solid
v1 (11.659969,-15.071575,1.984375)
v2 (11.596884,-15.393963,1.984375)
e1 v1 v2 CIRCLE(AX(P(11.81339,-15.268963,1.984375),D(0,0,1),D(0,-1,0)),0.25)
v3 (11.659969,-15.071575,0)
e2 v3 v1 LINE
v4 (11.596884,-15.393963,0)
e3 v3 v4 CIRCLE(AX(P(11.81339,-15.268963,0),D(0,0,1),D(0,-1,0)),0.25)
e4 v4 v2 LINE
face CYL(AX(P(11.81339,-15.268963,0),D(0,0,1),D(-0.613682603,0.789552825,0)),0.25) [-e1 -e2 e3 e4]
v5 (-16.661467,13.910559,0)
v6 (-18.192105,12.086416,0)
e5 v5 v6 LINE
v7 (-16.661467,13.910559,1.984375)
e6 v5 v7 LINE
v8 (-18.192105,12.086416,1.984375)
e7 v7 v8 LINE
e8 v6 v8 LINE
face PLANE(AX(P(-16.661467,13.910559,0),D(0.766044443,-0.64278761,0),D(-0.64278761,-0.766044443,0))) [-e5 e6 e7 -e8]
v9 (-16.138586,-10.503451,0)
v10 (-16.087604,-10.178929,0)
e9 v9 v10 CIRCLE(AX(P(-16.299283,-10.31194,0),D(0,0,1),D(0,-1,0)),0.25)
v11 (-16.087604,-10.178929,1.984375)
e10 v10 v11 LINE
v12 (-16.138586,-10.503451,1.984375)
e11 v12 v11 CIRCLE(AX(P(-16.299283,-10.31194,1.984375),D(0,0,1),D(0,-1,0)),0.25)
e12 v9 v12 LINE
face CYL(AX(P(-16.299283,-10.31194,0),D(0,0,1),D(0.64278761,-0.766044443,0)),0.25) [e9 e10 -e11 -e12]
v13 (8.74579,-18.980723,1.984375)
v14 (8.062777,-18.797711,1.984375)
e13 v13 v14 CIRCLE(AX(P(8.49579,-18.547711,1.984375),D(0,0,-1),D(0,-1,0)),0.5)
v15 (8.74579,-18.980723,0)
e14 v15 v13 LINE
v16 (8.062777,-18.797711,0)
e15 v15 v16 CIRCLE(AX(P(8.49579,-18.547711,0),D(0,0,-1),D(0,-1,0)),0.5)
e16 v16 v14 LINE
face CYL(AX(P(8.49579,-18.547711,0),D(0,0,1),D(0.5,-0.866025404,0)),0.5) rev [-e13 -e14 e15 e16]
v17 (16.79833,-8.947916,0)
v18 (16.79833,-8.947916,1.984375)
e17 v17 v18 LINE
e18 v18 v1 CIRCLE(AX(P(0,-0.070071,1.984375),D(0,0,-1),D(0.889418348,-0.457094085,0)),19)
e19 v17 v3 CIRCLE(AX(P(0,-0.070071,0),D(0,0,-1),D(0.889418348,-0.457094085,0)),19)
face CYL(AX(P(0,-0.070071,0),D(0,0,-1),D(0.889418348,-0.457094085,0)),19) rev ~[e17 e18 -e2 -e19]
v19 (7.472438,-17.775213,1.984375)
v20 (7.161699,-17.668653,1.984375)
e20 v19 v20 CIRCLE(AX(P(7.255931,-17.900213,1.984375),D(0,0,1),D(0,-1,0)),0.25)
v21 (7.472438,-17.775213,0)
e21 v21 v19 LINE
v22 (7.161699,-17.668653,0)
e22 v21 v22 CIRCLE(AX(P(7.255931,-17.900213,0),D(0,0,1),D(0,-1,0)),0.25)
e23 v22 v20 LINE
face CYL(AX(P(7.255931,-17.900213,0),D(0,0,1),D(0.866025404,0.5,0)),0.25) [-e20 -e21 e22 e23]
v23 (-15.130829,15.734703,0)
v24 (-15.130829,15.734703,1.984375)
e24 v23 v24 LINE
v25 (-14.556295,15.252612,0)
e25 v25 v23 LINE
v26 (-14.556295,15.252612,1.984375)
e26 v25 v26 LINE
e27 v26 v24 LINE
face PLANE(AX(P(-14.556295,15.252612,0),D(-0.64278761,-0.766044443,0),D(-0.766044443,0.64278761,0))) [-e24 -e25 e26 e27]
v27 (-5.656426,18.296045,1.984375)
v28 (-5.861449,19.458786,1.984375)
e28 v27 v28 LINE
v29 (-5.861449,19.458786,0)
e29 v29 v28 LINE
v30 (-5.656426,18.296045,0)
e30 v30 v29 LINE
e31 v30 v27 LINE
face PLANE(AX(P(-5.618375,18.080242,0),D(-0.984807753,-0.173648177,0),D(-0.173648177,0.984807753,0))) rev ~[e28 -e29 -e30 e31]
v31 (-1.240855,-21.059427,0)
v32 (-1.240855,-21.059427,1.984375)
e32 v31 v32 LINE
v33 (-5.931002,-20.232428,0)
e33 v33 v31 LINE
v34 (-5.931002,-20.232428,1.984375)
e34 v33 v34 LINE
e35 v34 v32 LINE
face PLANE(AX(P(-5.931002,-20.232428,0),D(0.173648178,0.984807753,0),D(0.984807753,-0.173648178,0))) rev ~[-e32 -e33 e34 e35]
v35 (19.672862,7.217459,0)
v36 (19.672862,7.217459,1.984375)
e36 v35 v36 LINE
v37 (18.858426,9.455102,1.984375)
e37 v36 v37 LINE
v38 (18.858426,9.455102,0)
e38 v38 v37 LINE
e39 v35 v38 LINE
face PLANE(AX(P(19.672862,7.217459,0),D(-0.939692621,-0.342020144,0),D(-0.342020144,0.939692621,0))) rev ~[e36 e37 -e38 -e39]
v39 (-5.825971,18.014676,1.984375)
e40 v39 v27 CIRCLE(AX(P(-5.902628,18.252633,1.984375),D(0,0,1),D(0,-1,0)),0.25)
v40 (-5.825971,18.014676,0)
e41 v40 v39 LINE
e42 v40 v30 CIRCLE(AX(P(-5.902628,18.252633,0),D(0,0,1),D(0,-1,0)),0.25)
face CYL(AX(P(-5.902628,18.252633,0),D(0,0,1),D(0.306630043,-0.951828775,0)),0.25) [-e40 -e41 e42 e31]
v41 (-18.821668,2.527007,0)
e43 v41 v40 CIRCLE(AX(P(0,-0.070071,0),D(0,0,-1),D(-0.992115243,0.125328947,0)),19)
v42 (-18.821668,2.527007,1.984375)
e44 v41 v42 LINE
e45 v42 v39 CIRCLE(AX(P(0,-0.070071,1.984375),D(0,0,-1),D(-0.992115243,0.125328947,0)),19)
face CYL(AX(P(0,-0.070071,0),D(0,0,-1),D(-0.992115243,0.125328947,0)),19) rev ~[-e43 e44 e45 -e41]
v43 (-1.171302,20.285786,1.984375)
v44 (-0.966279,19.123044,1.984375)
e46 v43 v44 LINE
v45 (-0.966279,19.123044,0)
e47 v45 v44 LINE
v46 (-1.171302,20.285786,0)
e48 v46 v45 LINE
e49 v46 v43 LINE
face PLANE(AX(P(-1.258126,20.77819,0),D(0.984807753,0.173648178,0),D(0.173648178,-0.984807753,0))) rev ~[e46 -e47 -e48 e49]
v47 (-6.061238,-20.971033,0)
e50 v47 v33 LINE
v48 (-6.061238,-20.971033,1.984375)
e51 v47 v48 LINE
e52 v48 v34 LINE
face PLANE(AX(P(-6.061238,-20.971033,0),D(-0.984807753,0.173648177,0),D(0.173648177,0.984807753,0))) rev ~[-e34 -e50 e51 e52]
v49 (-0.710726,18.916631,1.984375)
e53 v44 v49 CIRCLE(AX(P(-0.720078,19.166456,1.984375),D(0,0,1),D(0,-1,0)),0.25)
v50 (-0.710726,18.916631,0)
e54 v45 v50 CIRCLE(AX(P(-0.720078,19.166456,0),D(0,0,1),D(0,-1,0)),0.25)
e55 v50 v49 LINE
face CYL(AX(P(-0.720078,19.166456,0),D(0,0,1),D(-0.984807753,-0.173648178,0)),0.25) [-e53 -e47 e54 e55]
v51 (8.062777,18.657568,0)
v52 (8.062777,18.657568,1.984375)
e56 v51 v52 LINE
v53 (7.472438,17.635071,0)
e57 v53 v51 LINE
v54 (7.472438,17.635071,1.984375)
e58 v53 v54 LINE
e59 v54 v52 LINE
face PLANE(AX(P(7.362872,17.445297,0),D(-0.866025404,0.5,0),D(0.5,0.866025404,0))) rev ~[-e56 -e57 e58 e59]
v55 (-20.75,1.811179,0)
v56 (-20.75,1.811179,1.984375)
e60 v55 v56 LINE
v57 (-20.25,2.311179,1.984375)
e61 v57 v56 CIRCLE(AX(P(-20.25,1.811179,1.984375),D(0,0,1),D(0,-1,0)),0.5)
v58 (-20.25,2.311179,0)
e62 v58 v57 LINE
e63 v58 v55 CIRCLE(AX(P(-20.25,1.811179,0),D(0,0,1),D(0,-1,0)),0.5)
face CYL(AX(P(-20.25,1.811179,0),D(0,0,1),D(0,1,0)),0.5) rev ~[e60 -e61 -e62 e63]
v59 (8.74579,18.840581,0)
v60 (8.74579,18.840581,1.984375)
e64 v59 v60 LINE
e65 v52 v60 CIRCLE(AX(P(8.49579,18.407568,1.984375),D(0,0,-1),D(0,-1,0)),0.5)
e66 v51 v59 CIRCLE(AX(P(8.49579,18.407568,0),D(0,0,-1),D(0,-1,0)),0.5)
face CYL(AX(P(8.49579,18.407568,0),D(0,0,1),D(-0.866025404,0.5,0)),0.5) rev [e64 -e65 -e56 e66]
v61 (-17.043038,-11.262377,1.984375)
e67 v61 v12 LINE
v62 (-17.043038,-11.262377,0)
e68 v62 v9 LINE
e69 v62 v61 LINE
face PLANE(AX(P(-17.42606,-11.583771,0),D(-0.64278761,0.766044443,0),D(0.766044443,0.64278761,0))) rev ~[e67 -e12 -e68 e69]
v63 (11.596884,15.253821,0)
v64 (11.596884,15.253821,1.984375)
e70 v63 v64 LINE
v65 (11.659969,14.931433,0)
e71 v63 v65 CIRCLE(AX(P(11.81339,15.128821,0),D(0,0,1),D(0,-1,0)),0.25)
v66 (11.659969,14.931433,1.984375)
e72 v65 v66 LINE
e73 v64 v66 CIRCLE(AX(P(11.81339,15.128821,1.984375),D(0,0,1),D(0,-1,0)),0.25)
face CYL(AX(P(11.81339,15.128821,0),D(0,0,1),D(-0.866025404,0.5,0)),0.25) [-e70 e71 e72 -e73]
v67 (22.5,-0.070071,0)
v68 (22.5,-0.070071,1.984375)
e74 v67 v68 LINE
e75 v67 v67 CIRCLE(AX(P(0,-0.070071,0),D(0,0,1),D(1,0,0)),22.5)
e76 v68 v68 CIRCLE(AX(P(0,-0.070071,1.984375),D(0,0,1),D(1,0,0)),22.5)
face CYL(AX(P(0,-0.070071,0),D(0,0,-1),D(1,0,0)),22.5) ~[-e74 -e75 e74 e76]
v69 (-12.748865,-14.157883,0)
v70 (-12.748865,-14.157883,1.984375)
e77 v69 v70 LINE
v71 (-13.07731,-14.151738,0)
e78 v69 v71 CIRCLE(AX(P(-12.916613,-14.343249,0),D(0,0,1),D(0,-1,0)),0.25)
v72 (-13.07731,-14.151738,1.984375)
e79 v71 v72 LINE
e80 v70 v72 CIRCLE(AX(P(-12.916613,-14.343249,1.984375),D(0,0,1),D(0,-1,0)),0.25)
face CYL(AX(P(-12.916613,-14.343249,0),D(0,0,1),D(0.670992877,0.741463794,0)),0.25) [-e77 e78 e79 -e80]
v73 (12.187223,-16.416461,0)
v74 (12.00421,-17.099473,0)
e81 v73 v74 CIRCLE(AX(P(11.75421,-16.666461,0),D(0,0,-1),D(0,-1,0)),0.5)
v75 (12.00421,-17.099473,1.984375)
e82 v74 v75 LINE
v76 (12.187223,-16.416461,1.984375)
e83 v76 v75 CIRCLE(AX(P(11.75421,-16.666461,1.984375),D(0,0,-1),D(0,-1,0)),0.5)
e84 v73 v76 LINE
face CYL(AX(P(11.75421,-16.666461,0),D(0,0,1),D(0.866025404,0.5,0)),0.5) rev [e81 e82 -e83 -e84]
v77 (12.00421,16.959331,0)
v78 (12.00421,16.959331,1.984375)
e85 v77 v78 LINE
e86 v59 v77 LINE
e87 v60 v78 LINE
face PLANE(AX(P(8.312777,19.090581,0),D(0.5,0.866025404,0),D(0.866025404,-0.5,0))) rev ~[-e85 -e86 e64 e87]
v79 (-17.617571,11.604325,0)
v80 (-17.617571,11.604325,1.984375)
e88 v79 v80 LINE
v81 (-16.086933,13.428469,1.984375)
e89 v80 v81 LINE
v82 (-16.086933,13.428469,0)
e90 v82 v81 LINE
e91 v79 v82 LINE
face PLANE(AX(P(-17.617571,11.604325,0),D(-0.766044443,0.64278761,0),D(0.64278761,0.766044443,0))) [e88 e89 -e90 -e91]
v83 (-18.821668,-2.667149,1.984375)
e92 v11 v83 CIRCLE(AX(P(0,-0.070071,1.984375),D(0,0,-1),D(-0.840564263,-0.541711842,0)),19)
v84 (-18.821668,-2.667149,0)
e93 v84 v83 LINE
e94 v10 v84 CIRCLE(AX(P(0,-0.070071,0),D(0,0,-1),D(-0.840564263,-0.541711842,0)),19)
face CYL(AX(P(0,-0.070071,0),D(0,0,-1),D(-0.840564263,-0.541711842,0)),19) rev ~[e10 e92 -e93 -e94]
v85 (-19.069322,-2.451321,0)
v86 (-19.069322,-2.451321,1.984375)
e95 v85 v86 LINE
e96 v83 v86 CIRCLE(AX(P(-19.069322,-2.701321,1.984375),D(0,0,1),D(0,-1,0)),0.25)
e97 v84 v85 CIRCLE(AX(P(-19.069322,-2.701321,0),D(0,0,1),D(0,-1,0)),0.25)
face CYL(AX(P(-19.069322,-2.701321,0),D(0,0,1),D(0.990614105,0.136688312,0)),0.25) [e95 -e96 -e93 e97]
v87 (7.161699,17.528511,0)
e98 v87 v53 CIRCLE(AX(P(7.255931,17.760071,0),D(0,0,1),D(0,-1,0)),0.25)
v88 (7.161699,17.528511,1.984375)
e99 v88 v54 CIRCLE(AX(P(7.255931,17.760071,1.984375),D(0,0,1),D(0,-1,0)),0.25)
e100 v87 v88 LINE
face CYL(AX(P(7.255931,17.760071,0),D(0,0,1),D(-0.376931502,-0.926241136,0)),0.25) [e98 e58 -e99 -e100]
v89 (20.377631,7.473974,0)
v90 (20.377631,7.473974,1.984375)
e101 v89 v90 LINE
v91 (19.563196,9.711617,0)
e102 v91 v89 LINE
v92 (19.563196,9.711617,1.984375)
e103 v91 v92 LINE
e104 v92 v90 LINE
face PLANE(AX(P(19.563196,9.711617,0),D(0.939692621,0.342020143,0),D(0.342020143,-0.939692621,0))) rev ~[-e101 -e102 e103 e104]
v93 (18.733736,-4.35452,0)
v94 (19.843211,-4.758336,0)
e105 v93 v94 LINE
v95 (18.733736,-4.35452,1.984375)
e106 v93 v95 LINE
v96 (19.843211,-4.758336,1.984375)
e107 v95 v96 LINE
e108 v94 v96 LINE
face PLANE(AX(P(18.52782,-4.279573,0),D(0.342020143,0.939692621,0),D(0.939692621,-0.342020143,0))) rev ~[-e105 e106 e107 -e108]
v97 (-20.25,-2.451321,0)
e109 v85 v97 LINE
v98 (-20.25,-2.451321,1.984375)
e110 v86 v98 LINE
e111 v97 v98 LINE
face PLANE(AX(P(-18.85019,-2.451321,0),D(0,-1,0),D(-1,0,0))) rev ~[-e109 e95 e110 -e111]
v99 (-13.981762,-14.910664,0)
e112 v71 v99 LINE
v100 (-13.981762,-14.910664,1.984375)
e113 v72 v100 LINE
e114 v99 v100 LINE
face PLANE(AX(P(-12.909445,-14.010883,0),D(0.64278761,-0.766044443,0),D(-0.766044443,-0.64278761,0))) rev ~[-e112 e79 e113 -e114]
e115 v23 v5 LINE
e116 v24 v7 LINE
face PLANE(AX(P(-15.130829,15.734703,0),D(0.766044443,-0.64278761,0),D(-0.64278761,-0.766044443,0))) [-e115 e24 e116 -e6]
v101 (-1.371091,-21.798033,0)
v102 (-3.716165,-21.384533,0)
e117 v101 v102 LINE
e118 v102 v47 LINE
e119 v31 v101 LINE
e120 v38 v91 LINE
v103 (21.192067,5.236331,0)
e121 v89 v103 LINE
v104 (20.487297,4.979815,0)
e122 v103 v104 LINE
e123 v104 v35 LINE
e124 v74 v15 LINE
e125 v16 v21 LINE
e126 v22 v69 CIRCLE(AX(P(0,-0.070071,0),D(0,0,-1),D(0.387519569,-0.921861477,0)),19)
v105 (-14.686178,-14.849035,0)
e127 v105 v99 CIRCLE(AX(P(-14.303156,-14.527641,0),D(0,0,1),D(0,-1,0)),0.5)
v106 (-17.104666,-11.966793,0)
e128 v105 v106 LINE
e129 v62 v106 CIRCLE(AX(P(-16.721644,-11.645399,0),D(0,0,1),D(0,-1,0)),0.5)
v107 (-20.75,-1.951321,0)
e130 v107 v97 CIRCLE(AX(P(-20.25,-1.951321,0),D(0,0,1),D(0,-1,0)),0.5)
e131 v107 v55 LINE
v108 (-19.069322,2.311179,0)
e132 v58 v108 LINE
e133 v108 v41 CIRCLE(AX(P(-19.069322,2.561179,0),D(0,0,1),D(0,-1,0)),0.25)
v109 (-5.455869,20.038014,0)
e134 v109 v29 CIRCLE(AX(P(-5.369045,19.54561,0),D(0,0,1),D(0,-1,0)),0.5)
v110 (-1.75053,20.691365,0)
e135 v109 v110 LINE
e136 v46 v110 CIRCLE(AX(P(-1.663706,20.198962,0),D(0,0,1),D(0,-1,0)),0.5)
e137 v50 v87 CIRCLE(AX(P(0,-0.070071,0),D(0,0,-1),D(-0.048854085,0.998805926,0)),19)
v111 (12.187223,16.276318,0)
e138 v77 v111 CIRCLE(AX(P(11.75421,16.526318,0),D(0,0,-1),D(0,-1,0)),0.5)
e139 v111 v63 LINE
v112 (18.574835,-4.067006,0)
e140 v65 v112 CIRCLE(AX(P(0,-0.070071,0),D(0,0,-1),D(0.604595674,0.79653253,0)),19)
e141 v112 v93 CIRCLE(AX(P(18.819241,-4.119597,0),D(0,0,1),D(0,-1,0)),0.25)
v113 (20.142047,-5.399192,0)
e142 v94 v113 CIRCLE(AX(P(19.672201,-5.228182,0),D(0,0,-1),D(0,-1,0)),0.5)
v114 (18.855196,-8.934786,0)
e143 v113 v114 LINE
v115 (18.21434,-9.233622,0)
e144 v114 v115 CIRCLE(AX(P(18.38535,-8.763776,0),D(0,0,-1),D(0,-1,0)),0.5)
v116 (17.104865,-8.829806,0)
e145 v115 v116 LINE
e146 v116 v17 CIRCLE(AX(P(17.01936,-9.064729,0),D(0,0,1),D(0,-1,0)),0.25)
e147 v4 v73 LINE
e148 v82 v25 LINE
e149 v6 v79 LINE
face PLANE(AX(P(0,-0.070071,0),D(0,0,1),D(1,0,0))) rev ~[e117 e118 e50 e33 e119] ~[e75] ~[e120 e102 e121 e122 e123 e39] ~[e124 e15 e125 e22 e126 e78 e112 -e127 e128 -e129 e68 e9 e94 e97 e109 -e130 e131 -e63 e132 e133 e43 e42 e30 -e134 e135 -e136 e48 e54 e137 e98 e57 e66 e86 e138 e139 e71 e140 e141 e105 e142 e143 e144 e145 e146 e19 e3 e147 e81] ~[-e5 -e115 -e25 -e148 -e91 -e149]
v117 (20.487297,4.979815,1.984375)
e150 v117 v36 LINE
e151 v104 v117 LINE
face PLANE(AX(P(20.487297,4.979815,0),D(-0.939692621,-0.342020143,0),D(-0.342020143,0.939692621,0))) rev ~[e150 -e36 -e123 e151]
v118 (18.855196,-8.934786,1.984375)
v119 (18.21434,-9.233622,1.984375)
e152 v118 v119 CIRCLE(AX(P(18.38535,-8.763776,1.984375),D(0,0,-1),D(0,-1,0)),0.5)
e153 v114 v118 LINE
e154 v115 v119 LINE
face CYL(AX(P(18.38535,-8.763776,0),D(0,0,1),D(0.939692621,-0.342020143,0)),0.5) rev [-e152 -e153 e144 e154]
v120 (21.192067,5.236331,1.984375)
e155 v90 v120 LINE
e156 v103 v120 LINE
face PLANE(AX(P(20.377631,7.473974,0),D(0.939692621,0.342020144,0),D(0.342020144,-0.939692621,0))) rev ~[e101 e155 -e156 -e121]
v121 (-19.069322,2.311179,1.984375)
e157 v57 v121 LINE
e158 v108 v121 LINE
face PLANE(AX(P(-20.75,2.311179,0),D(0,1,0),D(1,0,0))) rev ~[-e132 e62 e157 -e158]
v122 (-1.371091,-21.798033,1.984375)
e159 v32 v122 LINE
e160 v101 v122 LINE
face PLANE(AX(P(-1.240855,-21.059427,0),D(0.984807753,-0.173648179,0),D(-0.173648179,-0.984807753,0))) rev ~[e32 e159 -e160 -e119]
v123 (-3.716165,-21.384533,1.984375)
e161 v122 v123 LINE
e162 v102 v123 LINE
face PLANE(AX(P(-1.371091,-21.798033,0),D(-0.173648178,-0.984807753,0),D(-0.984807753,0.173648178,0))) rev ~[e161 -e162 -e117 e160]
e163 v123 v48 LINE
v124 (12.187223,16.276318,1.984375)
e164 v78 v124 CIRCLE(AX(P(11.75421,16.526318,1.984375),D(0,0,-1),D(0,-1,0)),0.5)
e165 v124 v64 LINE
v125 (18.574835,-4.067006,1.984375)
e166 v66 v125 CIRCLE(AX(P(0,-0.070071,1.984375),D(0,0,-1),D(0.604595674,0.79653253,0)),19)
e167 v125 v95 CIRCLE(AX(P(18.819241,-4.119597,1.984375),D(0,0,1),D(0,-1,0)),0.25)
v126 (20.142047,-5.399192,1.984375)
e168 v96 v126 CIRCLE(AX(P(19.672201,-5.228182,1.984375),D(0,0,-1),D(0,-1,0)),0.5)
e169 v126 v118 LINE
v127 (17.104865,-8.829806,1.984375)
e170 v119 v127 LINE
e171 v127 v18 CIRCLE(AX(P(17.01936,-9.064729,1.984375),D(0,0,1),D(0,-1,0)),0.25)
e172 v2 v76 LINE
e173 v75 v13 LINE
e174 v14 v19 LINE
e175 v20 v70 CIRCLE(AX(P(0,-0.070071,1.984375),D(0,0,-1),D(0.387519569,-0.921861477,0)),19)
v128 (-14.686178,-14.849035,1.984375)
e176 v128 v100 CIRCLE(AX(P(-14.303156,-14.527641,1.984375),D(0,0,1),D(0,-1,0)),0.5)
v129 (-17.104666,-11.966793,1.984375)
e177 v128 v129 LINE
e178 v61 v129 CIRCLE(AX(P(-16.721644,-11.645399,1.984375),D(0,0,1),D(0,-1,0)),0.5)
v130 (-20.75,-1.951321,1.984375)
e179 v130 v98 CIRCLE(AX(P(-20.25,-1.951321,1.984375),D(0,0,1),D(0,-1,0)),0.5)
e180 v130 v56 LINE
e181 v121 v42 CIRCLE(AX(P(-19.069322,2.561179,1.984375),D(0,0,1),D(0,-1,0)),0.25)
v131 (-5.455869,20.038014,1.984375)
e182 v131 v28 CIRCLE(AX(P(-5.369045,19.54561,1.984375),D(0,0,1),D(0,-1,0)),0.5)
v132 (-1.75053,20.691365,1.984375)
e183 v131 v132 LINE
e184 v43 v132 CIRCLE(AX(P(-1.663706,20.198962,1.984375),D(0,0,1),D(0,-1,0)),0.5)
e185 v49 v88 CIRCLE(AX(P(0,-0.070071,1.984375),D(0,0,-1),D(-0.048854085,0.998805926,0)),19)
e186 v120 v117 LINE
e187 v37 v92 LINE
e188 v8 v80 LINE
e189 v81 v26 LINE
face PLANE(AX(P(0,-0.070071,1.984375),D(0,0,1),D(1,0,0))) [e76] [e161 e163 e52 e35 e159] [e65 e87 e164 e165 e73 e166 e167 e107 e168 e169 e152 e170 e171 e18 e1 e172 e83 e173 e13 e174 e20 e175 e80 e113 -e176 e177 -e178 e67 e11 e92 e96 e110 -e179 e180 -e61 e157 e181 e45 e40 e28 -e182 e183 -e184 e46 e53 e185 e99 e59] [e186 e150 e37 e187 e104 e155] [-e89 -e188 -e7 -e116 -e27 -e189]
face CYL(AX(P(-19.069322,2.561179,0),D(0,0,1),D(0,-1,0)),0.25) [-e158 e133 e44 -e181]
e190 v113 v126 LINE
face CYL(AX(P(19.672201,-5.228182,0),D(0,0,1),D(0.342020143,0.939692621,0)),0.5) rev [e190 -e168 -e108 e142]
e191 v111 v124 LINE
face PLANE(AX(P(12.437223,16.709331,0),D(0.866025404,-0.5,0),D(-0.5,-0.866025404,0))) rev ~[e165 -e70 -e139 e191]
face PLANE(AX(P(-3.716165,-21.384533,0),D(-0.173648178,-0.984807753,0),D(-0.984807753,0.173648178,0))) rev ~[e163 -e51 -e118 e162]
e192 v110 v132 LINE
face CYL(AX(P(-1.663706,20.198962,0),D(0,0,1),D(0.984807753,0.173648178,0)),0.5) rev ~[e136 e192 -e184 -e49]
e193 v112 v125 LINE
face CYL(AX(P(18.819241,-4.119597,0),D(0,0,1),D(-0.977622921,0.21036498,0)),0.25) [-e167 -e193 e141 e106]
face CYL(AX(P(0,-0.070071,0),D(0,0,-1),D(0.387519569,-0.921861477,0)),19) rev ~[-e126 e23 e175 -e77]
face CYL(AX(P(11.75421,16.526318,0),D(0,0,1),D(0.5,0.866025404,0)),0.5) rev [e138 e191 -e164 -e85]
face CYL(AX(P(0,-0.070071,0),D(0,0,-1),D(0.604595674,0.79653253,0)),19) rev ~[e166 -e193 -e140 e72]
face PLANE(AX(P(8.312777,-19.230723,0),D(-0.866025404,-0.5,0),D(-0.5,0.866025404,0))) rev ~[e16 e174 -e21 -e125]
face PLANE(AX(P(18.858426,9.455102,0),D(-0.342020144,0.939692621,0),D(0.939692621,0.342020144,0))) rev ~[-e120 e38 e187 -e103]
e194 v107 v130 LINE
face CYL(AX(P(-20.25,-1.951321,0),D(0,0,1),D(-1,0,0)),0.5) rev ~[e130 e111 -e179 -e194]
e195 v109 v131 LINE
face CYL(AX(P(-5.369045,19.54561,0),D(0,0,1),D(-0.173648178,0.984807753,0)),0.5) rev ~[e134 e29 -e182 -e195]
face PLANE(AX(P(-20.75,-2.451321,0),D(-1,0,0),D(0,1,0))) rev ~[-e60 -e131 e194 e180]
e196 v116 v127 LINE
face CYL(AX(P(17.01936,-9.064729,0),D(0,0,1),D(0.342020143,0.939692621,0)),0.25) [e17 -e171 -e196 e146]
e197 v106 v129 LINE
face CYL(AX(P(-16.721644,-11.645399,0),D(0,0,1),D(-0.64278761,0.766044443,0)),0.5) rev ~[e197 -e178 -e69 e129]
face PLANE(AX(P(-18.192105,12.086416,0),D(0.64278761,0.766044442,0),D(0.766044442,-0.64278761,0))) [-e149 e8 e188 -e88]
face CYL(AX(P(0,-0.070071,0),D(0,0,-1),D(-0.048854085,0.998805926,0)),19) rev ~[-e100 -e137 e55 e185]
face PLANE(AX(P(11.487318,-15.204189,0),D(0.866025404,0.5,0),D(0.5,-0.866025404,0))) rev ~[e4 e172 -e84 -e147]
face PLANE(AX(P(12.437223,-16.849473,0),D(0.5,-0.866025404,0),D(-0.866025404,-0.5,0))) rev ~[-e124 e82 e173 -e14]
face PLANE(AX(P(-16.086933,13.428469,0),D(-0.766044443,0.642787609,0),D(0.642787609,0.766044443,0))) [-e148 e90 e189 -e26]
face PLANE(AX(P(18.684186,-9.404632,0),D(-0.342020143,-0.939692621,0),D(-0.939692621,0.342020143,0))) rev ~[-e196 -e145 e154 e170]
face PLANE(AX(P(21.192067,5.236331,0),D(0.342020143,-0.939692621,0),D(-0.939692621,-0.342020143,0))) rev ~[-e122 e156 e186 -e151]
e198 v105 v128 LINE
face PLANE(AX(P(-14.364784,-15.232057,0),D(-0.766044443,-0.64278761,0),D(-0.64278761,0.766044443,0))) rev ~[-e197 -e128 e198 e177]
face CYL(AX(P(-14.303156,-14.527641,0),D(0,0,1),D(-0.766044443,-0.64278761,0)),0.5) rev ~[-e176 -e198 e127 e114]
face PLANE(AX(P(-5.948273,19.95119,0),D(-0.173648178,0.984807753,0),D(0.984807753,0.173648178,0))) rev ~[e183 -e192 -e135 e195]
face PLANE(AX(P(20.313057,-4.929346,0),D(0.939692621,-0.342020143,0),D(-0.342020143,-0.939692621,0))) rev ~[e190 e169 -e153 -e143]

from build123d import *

# Parameters (mm, degrees)
SKETCH1_R           = 22.5
BOSS_EXTRUDE1_DEPTH = 1.984375
FILLET1_R           = 0.25
FILLET2_R           = 0.5


with BuildPart() as part:
    # Sketch1 → Boss-Extrude1 (new body)
    with BuildSketch(Plane.XY):
        with Locations((0, -0.070071084)):
            Circle(SKETCH1_R)
        with BuildLine():
            Line((-1.258126225, 20.778189514), (-0.928227613, 18.907241516))
            ThreePointArc((-0.928227613, 18.907241516), (3.299315376, 18.641276223), (7.362871814, 17.445296987))
            Line((7.362871814, 17.445296987), (8.312777007, 19.090581045))
            Line((8.312777007, 19.090581045), (12.437222993, 16.709331045))
            Line((12.437222993, 16.709331045), (11.487317799, 15.064046987))
            ThreePointArc((11.487317799, 15.064046987), (17.854159795, 6.428311639), (18.527819546, -4.279572584))
            Line((18.527819546, -4.279572584), (20.313057348, -4.929346005))
            Line((20.313057348, -4.929346005), (18.684186415, -9.404632111))
            Line((18.684186415, -9.404632111), (16.898948613, -8.75485869))
            ThreePointArc((16.898948613, -8.75485869), (14.554844419, -12.283035668), (11.487317799, -15.204189155))
            Line((11.487317799, -15.204189155), (12.437222993, -16.849473212))
            Line((12.437222993, -16.849473212), (8.312777007, -19.230723212))
            Line((8.312777007, -19.230723212), (7.362871814, -17.585439155))
            ThreePointArc((7.362871814, -17.585439155), (-3.299315376, -18.781418391), (-12.909445009, -14.010882737))
            Line((-12.909445009, -14.010882737), (-14.364784199, -15.232057315))
            Line((-14.364784199, -15.232057315), (-17.42606019, -11.583770655))
            Line((-17.42606019, -11.583770655), (-15.970721, -10.362596077))
            ThreePointArc((-15.970721, -10.362596077), (-17.854159795, -6.568453807), (-18.850189613, -2.451321084))
            Line((-18.850189613, -2.451321084), (-20.75, -2.451321084))
            Line((-20.75, -2.451321084), (-20.75, 2.311178916))
            Line((-20.75, 2.311178916), (-18.850189613, 2.311178916))
            ThreePointArc((-18.850189613, 2.311178916), (-14.554844419, 12.1428935), (-5.618374537, 18.080242069))
            Line((-5.618374537, 18.080242069), (-5.948273148, 19.951190068))
            Line((-5.948273148, 19.951190068), (-1.258126225, 20.778189514))
        make_face(mode=Mode.SUBTRACT)
        Polygon((20.377631163, 7.473973659), (21.19206663, 5.236330606), (20.487297164, 4.979815499), (19.672861698, 7.217458552), (18.858426231, 9.455101605), (19.563195697, 9.711616713), align=None, mode=Mode.SUBTRACT)
        Polygon((-14.55629531, 15.25261205), (-15.130828642, 15.734702757), (-16.661466638, 13.910559427), (-18.192104633, 12.086416097), (-17.617571301, 11.604325389), (-16.086933305, 13.428468719), align=None, mode=Mode.SUBTRACT)
        Polygon((-3.716164525, -21.384533086), (-6.061237987, -20.971033363), (-5.931001854, -20.232427548), (-3.585928392, -20.645927271), (-1.24085493, -21.059426994), (-1.371091064, -21.798032809), align=None, mode=Mode.SUBTRACT)
    extrude(amount=BOSS_EXTRUDE1_DEPTH)

    # Fillet1
    fillet1_edges = [part.edges().sort_by_distance(p)[0] for p in [
        (-18.850189613, -2.451321084, 0.9921875),
        (-15.970721, -10.362596077, 0.9921875),
        (-12.909445009, -14.010882737, 0.9921875),
        (7.362871814, -17.585439155, 0.9921875),
        (11.487317799, -15.204189155, 0.9921875),
        (16.898948613, -8.75485869, 0.9921875),
        (18.527819546, -4.279572584, 0.9921875),
        (11.487317799, 15.064046987, 0.9921875),
        (7.362871814, 17.445296987, 0.9921875),
        (-0.928227613, 18.907241516, 0.9921875),
        (-5.618374537, 18.080242069, 0.9921875),
        (-18.850189613, 2.311178916, 0.9921875),
    ]]
    fillet(fillet1_edges, radius=FILLET1_R)

    # Fillet2
    fillet2_edges = [part.edges().sort_by_distance(p)[0] for p in [
        (-17.42606019, -11.583770655, 0.9921875),
        (-14.364784199, -15.232057315, 0.9921875),
        (8.312777007, -19.230723212, 0.9921875),
        (12.437222993, -16.849473212, 0.9921875),
        (18.684186415, -9.404632111, 0.9921875),
        (20.313057348, -4.929346005, 0.9921875),
        (12.437222993, 16.709331045, 0.9921875),
        (8.312777007, 19.090581045, 0.9921875),
        (-1.258126225, 20.778189514, 0.9921875),
        (-5.948273148, 19.951190068, 0.9921875),
        (-20.75, 2.311178916, 0.9921875),
        (-20.75, -2.451321084, 0.9921875),
    ]]
    fillet(fillet2_edges, radius=FILLET2_R)


solid = part.part
